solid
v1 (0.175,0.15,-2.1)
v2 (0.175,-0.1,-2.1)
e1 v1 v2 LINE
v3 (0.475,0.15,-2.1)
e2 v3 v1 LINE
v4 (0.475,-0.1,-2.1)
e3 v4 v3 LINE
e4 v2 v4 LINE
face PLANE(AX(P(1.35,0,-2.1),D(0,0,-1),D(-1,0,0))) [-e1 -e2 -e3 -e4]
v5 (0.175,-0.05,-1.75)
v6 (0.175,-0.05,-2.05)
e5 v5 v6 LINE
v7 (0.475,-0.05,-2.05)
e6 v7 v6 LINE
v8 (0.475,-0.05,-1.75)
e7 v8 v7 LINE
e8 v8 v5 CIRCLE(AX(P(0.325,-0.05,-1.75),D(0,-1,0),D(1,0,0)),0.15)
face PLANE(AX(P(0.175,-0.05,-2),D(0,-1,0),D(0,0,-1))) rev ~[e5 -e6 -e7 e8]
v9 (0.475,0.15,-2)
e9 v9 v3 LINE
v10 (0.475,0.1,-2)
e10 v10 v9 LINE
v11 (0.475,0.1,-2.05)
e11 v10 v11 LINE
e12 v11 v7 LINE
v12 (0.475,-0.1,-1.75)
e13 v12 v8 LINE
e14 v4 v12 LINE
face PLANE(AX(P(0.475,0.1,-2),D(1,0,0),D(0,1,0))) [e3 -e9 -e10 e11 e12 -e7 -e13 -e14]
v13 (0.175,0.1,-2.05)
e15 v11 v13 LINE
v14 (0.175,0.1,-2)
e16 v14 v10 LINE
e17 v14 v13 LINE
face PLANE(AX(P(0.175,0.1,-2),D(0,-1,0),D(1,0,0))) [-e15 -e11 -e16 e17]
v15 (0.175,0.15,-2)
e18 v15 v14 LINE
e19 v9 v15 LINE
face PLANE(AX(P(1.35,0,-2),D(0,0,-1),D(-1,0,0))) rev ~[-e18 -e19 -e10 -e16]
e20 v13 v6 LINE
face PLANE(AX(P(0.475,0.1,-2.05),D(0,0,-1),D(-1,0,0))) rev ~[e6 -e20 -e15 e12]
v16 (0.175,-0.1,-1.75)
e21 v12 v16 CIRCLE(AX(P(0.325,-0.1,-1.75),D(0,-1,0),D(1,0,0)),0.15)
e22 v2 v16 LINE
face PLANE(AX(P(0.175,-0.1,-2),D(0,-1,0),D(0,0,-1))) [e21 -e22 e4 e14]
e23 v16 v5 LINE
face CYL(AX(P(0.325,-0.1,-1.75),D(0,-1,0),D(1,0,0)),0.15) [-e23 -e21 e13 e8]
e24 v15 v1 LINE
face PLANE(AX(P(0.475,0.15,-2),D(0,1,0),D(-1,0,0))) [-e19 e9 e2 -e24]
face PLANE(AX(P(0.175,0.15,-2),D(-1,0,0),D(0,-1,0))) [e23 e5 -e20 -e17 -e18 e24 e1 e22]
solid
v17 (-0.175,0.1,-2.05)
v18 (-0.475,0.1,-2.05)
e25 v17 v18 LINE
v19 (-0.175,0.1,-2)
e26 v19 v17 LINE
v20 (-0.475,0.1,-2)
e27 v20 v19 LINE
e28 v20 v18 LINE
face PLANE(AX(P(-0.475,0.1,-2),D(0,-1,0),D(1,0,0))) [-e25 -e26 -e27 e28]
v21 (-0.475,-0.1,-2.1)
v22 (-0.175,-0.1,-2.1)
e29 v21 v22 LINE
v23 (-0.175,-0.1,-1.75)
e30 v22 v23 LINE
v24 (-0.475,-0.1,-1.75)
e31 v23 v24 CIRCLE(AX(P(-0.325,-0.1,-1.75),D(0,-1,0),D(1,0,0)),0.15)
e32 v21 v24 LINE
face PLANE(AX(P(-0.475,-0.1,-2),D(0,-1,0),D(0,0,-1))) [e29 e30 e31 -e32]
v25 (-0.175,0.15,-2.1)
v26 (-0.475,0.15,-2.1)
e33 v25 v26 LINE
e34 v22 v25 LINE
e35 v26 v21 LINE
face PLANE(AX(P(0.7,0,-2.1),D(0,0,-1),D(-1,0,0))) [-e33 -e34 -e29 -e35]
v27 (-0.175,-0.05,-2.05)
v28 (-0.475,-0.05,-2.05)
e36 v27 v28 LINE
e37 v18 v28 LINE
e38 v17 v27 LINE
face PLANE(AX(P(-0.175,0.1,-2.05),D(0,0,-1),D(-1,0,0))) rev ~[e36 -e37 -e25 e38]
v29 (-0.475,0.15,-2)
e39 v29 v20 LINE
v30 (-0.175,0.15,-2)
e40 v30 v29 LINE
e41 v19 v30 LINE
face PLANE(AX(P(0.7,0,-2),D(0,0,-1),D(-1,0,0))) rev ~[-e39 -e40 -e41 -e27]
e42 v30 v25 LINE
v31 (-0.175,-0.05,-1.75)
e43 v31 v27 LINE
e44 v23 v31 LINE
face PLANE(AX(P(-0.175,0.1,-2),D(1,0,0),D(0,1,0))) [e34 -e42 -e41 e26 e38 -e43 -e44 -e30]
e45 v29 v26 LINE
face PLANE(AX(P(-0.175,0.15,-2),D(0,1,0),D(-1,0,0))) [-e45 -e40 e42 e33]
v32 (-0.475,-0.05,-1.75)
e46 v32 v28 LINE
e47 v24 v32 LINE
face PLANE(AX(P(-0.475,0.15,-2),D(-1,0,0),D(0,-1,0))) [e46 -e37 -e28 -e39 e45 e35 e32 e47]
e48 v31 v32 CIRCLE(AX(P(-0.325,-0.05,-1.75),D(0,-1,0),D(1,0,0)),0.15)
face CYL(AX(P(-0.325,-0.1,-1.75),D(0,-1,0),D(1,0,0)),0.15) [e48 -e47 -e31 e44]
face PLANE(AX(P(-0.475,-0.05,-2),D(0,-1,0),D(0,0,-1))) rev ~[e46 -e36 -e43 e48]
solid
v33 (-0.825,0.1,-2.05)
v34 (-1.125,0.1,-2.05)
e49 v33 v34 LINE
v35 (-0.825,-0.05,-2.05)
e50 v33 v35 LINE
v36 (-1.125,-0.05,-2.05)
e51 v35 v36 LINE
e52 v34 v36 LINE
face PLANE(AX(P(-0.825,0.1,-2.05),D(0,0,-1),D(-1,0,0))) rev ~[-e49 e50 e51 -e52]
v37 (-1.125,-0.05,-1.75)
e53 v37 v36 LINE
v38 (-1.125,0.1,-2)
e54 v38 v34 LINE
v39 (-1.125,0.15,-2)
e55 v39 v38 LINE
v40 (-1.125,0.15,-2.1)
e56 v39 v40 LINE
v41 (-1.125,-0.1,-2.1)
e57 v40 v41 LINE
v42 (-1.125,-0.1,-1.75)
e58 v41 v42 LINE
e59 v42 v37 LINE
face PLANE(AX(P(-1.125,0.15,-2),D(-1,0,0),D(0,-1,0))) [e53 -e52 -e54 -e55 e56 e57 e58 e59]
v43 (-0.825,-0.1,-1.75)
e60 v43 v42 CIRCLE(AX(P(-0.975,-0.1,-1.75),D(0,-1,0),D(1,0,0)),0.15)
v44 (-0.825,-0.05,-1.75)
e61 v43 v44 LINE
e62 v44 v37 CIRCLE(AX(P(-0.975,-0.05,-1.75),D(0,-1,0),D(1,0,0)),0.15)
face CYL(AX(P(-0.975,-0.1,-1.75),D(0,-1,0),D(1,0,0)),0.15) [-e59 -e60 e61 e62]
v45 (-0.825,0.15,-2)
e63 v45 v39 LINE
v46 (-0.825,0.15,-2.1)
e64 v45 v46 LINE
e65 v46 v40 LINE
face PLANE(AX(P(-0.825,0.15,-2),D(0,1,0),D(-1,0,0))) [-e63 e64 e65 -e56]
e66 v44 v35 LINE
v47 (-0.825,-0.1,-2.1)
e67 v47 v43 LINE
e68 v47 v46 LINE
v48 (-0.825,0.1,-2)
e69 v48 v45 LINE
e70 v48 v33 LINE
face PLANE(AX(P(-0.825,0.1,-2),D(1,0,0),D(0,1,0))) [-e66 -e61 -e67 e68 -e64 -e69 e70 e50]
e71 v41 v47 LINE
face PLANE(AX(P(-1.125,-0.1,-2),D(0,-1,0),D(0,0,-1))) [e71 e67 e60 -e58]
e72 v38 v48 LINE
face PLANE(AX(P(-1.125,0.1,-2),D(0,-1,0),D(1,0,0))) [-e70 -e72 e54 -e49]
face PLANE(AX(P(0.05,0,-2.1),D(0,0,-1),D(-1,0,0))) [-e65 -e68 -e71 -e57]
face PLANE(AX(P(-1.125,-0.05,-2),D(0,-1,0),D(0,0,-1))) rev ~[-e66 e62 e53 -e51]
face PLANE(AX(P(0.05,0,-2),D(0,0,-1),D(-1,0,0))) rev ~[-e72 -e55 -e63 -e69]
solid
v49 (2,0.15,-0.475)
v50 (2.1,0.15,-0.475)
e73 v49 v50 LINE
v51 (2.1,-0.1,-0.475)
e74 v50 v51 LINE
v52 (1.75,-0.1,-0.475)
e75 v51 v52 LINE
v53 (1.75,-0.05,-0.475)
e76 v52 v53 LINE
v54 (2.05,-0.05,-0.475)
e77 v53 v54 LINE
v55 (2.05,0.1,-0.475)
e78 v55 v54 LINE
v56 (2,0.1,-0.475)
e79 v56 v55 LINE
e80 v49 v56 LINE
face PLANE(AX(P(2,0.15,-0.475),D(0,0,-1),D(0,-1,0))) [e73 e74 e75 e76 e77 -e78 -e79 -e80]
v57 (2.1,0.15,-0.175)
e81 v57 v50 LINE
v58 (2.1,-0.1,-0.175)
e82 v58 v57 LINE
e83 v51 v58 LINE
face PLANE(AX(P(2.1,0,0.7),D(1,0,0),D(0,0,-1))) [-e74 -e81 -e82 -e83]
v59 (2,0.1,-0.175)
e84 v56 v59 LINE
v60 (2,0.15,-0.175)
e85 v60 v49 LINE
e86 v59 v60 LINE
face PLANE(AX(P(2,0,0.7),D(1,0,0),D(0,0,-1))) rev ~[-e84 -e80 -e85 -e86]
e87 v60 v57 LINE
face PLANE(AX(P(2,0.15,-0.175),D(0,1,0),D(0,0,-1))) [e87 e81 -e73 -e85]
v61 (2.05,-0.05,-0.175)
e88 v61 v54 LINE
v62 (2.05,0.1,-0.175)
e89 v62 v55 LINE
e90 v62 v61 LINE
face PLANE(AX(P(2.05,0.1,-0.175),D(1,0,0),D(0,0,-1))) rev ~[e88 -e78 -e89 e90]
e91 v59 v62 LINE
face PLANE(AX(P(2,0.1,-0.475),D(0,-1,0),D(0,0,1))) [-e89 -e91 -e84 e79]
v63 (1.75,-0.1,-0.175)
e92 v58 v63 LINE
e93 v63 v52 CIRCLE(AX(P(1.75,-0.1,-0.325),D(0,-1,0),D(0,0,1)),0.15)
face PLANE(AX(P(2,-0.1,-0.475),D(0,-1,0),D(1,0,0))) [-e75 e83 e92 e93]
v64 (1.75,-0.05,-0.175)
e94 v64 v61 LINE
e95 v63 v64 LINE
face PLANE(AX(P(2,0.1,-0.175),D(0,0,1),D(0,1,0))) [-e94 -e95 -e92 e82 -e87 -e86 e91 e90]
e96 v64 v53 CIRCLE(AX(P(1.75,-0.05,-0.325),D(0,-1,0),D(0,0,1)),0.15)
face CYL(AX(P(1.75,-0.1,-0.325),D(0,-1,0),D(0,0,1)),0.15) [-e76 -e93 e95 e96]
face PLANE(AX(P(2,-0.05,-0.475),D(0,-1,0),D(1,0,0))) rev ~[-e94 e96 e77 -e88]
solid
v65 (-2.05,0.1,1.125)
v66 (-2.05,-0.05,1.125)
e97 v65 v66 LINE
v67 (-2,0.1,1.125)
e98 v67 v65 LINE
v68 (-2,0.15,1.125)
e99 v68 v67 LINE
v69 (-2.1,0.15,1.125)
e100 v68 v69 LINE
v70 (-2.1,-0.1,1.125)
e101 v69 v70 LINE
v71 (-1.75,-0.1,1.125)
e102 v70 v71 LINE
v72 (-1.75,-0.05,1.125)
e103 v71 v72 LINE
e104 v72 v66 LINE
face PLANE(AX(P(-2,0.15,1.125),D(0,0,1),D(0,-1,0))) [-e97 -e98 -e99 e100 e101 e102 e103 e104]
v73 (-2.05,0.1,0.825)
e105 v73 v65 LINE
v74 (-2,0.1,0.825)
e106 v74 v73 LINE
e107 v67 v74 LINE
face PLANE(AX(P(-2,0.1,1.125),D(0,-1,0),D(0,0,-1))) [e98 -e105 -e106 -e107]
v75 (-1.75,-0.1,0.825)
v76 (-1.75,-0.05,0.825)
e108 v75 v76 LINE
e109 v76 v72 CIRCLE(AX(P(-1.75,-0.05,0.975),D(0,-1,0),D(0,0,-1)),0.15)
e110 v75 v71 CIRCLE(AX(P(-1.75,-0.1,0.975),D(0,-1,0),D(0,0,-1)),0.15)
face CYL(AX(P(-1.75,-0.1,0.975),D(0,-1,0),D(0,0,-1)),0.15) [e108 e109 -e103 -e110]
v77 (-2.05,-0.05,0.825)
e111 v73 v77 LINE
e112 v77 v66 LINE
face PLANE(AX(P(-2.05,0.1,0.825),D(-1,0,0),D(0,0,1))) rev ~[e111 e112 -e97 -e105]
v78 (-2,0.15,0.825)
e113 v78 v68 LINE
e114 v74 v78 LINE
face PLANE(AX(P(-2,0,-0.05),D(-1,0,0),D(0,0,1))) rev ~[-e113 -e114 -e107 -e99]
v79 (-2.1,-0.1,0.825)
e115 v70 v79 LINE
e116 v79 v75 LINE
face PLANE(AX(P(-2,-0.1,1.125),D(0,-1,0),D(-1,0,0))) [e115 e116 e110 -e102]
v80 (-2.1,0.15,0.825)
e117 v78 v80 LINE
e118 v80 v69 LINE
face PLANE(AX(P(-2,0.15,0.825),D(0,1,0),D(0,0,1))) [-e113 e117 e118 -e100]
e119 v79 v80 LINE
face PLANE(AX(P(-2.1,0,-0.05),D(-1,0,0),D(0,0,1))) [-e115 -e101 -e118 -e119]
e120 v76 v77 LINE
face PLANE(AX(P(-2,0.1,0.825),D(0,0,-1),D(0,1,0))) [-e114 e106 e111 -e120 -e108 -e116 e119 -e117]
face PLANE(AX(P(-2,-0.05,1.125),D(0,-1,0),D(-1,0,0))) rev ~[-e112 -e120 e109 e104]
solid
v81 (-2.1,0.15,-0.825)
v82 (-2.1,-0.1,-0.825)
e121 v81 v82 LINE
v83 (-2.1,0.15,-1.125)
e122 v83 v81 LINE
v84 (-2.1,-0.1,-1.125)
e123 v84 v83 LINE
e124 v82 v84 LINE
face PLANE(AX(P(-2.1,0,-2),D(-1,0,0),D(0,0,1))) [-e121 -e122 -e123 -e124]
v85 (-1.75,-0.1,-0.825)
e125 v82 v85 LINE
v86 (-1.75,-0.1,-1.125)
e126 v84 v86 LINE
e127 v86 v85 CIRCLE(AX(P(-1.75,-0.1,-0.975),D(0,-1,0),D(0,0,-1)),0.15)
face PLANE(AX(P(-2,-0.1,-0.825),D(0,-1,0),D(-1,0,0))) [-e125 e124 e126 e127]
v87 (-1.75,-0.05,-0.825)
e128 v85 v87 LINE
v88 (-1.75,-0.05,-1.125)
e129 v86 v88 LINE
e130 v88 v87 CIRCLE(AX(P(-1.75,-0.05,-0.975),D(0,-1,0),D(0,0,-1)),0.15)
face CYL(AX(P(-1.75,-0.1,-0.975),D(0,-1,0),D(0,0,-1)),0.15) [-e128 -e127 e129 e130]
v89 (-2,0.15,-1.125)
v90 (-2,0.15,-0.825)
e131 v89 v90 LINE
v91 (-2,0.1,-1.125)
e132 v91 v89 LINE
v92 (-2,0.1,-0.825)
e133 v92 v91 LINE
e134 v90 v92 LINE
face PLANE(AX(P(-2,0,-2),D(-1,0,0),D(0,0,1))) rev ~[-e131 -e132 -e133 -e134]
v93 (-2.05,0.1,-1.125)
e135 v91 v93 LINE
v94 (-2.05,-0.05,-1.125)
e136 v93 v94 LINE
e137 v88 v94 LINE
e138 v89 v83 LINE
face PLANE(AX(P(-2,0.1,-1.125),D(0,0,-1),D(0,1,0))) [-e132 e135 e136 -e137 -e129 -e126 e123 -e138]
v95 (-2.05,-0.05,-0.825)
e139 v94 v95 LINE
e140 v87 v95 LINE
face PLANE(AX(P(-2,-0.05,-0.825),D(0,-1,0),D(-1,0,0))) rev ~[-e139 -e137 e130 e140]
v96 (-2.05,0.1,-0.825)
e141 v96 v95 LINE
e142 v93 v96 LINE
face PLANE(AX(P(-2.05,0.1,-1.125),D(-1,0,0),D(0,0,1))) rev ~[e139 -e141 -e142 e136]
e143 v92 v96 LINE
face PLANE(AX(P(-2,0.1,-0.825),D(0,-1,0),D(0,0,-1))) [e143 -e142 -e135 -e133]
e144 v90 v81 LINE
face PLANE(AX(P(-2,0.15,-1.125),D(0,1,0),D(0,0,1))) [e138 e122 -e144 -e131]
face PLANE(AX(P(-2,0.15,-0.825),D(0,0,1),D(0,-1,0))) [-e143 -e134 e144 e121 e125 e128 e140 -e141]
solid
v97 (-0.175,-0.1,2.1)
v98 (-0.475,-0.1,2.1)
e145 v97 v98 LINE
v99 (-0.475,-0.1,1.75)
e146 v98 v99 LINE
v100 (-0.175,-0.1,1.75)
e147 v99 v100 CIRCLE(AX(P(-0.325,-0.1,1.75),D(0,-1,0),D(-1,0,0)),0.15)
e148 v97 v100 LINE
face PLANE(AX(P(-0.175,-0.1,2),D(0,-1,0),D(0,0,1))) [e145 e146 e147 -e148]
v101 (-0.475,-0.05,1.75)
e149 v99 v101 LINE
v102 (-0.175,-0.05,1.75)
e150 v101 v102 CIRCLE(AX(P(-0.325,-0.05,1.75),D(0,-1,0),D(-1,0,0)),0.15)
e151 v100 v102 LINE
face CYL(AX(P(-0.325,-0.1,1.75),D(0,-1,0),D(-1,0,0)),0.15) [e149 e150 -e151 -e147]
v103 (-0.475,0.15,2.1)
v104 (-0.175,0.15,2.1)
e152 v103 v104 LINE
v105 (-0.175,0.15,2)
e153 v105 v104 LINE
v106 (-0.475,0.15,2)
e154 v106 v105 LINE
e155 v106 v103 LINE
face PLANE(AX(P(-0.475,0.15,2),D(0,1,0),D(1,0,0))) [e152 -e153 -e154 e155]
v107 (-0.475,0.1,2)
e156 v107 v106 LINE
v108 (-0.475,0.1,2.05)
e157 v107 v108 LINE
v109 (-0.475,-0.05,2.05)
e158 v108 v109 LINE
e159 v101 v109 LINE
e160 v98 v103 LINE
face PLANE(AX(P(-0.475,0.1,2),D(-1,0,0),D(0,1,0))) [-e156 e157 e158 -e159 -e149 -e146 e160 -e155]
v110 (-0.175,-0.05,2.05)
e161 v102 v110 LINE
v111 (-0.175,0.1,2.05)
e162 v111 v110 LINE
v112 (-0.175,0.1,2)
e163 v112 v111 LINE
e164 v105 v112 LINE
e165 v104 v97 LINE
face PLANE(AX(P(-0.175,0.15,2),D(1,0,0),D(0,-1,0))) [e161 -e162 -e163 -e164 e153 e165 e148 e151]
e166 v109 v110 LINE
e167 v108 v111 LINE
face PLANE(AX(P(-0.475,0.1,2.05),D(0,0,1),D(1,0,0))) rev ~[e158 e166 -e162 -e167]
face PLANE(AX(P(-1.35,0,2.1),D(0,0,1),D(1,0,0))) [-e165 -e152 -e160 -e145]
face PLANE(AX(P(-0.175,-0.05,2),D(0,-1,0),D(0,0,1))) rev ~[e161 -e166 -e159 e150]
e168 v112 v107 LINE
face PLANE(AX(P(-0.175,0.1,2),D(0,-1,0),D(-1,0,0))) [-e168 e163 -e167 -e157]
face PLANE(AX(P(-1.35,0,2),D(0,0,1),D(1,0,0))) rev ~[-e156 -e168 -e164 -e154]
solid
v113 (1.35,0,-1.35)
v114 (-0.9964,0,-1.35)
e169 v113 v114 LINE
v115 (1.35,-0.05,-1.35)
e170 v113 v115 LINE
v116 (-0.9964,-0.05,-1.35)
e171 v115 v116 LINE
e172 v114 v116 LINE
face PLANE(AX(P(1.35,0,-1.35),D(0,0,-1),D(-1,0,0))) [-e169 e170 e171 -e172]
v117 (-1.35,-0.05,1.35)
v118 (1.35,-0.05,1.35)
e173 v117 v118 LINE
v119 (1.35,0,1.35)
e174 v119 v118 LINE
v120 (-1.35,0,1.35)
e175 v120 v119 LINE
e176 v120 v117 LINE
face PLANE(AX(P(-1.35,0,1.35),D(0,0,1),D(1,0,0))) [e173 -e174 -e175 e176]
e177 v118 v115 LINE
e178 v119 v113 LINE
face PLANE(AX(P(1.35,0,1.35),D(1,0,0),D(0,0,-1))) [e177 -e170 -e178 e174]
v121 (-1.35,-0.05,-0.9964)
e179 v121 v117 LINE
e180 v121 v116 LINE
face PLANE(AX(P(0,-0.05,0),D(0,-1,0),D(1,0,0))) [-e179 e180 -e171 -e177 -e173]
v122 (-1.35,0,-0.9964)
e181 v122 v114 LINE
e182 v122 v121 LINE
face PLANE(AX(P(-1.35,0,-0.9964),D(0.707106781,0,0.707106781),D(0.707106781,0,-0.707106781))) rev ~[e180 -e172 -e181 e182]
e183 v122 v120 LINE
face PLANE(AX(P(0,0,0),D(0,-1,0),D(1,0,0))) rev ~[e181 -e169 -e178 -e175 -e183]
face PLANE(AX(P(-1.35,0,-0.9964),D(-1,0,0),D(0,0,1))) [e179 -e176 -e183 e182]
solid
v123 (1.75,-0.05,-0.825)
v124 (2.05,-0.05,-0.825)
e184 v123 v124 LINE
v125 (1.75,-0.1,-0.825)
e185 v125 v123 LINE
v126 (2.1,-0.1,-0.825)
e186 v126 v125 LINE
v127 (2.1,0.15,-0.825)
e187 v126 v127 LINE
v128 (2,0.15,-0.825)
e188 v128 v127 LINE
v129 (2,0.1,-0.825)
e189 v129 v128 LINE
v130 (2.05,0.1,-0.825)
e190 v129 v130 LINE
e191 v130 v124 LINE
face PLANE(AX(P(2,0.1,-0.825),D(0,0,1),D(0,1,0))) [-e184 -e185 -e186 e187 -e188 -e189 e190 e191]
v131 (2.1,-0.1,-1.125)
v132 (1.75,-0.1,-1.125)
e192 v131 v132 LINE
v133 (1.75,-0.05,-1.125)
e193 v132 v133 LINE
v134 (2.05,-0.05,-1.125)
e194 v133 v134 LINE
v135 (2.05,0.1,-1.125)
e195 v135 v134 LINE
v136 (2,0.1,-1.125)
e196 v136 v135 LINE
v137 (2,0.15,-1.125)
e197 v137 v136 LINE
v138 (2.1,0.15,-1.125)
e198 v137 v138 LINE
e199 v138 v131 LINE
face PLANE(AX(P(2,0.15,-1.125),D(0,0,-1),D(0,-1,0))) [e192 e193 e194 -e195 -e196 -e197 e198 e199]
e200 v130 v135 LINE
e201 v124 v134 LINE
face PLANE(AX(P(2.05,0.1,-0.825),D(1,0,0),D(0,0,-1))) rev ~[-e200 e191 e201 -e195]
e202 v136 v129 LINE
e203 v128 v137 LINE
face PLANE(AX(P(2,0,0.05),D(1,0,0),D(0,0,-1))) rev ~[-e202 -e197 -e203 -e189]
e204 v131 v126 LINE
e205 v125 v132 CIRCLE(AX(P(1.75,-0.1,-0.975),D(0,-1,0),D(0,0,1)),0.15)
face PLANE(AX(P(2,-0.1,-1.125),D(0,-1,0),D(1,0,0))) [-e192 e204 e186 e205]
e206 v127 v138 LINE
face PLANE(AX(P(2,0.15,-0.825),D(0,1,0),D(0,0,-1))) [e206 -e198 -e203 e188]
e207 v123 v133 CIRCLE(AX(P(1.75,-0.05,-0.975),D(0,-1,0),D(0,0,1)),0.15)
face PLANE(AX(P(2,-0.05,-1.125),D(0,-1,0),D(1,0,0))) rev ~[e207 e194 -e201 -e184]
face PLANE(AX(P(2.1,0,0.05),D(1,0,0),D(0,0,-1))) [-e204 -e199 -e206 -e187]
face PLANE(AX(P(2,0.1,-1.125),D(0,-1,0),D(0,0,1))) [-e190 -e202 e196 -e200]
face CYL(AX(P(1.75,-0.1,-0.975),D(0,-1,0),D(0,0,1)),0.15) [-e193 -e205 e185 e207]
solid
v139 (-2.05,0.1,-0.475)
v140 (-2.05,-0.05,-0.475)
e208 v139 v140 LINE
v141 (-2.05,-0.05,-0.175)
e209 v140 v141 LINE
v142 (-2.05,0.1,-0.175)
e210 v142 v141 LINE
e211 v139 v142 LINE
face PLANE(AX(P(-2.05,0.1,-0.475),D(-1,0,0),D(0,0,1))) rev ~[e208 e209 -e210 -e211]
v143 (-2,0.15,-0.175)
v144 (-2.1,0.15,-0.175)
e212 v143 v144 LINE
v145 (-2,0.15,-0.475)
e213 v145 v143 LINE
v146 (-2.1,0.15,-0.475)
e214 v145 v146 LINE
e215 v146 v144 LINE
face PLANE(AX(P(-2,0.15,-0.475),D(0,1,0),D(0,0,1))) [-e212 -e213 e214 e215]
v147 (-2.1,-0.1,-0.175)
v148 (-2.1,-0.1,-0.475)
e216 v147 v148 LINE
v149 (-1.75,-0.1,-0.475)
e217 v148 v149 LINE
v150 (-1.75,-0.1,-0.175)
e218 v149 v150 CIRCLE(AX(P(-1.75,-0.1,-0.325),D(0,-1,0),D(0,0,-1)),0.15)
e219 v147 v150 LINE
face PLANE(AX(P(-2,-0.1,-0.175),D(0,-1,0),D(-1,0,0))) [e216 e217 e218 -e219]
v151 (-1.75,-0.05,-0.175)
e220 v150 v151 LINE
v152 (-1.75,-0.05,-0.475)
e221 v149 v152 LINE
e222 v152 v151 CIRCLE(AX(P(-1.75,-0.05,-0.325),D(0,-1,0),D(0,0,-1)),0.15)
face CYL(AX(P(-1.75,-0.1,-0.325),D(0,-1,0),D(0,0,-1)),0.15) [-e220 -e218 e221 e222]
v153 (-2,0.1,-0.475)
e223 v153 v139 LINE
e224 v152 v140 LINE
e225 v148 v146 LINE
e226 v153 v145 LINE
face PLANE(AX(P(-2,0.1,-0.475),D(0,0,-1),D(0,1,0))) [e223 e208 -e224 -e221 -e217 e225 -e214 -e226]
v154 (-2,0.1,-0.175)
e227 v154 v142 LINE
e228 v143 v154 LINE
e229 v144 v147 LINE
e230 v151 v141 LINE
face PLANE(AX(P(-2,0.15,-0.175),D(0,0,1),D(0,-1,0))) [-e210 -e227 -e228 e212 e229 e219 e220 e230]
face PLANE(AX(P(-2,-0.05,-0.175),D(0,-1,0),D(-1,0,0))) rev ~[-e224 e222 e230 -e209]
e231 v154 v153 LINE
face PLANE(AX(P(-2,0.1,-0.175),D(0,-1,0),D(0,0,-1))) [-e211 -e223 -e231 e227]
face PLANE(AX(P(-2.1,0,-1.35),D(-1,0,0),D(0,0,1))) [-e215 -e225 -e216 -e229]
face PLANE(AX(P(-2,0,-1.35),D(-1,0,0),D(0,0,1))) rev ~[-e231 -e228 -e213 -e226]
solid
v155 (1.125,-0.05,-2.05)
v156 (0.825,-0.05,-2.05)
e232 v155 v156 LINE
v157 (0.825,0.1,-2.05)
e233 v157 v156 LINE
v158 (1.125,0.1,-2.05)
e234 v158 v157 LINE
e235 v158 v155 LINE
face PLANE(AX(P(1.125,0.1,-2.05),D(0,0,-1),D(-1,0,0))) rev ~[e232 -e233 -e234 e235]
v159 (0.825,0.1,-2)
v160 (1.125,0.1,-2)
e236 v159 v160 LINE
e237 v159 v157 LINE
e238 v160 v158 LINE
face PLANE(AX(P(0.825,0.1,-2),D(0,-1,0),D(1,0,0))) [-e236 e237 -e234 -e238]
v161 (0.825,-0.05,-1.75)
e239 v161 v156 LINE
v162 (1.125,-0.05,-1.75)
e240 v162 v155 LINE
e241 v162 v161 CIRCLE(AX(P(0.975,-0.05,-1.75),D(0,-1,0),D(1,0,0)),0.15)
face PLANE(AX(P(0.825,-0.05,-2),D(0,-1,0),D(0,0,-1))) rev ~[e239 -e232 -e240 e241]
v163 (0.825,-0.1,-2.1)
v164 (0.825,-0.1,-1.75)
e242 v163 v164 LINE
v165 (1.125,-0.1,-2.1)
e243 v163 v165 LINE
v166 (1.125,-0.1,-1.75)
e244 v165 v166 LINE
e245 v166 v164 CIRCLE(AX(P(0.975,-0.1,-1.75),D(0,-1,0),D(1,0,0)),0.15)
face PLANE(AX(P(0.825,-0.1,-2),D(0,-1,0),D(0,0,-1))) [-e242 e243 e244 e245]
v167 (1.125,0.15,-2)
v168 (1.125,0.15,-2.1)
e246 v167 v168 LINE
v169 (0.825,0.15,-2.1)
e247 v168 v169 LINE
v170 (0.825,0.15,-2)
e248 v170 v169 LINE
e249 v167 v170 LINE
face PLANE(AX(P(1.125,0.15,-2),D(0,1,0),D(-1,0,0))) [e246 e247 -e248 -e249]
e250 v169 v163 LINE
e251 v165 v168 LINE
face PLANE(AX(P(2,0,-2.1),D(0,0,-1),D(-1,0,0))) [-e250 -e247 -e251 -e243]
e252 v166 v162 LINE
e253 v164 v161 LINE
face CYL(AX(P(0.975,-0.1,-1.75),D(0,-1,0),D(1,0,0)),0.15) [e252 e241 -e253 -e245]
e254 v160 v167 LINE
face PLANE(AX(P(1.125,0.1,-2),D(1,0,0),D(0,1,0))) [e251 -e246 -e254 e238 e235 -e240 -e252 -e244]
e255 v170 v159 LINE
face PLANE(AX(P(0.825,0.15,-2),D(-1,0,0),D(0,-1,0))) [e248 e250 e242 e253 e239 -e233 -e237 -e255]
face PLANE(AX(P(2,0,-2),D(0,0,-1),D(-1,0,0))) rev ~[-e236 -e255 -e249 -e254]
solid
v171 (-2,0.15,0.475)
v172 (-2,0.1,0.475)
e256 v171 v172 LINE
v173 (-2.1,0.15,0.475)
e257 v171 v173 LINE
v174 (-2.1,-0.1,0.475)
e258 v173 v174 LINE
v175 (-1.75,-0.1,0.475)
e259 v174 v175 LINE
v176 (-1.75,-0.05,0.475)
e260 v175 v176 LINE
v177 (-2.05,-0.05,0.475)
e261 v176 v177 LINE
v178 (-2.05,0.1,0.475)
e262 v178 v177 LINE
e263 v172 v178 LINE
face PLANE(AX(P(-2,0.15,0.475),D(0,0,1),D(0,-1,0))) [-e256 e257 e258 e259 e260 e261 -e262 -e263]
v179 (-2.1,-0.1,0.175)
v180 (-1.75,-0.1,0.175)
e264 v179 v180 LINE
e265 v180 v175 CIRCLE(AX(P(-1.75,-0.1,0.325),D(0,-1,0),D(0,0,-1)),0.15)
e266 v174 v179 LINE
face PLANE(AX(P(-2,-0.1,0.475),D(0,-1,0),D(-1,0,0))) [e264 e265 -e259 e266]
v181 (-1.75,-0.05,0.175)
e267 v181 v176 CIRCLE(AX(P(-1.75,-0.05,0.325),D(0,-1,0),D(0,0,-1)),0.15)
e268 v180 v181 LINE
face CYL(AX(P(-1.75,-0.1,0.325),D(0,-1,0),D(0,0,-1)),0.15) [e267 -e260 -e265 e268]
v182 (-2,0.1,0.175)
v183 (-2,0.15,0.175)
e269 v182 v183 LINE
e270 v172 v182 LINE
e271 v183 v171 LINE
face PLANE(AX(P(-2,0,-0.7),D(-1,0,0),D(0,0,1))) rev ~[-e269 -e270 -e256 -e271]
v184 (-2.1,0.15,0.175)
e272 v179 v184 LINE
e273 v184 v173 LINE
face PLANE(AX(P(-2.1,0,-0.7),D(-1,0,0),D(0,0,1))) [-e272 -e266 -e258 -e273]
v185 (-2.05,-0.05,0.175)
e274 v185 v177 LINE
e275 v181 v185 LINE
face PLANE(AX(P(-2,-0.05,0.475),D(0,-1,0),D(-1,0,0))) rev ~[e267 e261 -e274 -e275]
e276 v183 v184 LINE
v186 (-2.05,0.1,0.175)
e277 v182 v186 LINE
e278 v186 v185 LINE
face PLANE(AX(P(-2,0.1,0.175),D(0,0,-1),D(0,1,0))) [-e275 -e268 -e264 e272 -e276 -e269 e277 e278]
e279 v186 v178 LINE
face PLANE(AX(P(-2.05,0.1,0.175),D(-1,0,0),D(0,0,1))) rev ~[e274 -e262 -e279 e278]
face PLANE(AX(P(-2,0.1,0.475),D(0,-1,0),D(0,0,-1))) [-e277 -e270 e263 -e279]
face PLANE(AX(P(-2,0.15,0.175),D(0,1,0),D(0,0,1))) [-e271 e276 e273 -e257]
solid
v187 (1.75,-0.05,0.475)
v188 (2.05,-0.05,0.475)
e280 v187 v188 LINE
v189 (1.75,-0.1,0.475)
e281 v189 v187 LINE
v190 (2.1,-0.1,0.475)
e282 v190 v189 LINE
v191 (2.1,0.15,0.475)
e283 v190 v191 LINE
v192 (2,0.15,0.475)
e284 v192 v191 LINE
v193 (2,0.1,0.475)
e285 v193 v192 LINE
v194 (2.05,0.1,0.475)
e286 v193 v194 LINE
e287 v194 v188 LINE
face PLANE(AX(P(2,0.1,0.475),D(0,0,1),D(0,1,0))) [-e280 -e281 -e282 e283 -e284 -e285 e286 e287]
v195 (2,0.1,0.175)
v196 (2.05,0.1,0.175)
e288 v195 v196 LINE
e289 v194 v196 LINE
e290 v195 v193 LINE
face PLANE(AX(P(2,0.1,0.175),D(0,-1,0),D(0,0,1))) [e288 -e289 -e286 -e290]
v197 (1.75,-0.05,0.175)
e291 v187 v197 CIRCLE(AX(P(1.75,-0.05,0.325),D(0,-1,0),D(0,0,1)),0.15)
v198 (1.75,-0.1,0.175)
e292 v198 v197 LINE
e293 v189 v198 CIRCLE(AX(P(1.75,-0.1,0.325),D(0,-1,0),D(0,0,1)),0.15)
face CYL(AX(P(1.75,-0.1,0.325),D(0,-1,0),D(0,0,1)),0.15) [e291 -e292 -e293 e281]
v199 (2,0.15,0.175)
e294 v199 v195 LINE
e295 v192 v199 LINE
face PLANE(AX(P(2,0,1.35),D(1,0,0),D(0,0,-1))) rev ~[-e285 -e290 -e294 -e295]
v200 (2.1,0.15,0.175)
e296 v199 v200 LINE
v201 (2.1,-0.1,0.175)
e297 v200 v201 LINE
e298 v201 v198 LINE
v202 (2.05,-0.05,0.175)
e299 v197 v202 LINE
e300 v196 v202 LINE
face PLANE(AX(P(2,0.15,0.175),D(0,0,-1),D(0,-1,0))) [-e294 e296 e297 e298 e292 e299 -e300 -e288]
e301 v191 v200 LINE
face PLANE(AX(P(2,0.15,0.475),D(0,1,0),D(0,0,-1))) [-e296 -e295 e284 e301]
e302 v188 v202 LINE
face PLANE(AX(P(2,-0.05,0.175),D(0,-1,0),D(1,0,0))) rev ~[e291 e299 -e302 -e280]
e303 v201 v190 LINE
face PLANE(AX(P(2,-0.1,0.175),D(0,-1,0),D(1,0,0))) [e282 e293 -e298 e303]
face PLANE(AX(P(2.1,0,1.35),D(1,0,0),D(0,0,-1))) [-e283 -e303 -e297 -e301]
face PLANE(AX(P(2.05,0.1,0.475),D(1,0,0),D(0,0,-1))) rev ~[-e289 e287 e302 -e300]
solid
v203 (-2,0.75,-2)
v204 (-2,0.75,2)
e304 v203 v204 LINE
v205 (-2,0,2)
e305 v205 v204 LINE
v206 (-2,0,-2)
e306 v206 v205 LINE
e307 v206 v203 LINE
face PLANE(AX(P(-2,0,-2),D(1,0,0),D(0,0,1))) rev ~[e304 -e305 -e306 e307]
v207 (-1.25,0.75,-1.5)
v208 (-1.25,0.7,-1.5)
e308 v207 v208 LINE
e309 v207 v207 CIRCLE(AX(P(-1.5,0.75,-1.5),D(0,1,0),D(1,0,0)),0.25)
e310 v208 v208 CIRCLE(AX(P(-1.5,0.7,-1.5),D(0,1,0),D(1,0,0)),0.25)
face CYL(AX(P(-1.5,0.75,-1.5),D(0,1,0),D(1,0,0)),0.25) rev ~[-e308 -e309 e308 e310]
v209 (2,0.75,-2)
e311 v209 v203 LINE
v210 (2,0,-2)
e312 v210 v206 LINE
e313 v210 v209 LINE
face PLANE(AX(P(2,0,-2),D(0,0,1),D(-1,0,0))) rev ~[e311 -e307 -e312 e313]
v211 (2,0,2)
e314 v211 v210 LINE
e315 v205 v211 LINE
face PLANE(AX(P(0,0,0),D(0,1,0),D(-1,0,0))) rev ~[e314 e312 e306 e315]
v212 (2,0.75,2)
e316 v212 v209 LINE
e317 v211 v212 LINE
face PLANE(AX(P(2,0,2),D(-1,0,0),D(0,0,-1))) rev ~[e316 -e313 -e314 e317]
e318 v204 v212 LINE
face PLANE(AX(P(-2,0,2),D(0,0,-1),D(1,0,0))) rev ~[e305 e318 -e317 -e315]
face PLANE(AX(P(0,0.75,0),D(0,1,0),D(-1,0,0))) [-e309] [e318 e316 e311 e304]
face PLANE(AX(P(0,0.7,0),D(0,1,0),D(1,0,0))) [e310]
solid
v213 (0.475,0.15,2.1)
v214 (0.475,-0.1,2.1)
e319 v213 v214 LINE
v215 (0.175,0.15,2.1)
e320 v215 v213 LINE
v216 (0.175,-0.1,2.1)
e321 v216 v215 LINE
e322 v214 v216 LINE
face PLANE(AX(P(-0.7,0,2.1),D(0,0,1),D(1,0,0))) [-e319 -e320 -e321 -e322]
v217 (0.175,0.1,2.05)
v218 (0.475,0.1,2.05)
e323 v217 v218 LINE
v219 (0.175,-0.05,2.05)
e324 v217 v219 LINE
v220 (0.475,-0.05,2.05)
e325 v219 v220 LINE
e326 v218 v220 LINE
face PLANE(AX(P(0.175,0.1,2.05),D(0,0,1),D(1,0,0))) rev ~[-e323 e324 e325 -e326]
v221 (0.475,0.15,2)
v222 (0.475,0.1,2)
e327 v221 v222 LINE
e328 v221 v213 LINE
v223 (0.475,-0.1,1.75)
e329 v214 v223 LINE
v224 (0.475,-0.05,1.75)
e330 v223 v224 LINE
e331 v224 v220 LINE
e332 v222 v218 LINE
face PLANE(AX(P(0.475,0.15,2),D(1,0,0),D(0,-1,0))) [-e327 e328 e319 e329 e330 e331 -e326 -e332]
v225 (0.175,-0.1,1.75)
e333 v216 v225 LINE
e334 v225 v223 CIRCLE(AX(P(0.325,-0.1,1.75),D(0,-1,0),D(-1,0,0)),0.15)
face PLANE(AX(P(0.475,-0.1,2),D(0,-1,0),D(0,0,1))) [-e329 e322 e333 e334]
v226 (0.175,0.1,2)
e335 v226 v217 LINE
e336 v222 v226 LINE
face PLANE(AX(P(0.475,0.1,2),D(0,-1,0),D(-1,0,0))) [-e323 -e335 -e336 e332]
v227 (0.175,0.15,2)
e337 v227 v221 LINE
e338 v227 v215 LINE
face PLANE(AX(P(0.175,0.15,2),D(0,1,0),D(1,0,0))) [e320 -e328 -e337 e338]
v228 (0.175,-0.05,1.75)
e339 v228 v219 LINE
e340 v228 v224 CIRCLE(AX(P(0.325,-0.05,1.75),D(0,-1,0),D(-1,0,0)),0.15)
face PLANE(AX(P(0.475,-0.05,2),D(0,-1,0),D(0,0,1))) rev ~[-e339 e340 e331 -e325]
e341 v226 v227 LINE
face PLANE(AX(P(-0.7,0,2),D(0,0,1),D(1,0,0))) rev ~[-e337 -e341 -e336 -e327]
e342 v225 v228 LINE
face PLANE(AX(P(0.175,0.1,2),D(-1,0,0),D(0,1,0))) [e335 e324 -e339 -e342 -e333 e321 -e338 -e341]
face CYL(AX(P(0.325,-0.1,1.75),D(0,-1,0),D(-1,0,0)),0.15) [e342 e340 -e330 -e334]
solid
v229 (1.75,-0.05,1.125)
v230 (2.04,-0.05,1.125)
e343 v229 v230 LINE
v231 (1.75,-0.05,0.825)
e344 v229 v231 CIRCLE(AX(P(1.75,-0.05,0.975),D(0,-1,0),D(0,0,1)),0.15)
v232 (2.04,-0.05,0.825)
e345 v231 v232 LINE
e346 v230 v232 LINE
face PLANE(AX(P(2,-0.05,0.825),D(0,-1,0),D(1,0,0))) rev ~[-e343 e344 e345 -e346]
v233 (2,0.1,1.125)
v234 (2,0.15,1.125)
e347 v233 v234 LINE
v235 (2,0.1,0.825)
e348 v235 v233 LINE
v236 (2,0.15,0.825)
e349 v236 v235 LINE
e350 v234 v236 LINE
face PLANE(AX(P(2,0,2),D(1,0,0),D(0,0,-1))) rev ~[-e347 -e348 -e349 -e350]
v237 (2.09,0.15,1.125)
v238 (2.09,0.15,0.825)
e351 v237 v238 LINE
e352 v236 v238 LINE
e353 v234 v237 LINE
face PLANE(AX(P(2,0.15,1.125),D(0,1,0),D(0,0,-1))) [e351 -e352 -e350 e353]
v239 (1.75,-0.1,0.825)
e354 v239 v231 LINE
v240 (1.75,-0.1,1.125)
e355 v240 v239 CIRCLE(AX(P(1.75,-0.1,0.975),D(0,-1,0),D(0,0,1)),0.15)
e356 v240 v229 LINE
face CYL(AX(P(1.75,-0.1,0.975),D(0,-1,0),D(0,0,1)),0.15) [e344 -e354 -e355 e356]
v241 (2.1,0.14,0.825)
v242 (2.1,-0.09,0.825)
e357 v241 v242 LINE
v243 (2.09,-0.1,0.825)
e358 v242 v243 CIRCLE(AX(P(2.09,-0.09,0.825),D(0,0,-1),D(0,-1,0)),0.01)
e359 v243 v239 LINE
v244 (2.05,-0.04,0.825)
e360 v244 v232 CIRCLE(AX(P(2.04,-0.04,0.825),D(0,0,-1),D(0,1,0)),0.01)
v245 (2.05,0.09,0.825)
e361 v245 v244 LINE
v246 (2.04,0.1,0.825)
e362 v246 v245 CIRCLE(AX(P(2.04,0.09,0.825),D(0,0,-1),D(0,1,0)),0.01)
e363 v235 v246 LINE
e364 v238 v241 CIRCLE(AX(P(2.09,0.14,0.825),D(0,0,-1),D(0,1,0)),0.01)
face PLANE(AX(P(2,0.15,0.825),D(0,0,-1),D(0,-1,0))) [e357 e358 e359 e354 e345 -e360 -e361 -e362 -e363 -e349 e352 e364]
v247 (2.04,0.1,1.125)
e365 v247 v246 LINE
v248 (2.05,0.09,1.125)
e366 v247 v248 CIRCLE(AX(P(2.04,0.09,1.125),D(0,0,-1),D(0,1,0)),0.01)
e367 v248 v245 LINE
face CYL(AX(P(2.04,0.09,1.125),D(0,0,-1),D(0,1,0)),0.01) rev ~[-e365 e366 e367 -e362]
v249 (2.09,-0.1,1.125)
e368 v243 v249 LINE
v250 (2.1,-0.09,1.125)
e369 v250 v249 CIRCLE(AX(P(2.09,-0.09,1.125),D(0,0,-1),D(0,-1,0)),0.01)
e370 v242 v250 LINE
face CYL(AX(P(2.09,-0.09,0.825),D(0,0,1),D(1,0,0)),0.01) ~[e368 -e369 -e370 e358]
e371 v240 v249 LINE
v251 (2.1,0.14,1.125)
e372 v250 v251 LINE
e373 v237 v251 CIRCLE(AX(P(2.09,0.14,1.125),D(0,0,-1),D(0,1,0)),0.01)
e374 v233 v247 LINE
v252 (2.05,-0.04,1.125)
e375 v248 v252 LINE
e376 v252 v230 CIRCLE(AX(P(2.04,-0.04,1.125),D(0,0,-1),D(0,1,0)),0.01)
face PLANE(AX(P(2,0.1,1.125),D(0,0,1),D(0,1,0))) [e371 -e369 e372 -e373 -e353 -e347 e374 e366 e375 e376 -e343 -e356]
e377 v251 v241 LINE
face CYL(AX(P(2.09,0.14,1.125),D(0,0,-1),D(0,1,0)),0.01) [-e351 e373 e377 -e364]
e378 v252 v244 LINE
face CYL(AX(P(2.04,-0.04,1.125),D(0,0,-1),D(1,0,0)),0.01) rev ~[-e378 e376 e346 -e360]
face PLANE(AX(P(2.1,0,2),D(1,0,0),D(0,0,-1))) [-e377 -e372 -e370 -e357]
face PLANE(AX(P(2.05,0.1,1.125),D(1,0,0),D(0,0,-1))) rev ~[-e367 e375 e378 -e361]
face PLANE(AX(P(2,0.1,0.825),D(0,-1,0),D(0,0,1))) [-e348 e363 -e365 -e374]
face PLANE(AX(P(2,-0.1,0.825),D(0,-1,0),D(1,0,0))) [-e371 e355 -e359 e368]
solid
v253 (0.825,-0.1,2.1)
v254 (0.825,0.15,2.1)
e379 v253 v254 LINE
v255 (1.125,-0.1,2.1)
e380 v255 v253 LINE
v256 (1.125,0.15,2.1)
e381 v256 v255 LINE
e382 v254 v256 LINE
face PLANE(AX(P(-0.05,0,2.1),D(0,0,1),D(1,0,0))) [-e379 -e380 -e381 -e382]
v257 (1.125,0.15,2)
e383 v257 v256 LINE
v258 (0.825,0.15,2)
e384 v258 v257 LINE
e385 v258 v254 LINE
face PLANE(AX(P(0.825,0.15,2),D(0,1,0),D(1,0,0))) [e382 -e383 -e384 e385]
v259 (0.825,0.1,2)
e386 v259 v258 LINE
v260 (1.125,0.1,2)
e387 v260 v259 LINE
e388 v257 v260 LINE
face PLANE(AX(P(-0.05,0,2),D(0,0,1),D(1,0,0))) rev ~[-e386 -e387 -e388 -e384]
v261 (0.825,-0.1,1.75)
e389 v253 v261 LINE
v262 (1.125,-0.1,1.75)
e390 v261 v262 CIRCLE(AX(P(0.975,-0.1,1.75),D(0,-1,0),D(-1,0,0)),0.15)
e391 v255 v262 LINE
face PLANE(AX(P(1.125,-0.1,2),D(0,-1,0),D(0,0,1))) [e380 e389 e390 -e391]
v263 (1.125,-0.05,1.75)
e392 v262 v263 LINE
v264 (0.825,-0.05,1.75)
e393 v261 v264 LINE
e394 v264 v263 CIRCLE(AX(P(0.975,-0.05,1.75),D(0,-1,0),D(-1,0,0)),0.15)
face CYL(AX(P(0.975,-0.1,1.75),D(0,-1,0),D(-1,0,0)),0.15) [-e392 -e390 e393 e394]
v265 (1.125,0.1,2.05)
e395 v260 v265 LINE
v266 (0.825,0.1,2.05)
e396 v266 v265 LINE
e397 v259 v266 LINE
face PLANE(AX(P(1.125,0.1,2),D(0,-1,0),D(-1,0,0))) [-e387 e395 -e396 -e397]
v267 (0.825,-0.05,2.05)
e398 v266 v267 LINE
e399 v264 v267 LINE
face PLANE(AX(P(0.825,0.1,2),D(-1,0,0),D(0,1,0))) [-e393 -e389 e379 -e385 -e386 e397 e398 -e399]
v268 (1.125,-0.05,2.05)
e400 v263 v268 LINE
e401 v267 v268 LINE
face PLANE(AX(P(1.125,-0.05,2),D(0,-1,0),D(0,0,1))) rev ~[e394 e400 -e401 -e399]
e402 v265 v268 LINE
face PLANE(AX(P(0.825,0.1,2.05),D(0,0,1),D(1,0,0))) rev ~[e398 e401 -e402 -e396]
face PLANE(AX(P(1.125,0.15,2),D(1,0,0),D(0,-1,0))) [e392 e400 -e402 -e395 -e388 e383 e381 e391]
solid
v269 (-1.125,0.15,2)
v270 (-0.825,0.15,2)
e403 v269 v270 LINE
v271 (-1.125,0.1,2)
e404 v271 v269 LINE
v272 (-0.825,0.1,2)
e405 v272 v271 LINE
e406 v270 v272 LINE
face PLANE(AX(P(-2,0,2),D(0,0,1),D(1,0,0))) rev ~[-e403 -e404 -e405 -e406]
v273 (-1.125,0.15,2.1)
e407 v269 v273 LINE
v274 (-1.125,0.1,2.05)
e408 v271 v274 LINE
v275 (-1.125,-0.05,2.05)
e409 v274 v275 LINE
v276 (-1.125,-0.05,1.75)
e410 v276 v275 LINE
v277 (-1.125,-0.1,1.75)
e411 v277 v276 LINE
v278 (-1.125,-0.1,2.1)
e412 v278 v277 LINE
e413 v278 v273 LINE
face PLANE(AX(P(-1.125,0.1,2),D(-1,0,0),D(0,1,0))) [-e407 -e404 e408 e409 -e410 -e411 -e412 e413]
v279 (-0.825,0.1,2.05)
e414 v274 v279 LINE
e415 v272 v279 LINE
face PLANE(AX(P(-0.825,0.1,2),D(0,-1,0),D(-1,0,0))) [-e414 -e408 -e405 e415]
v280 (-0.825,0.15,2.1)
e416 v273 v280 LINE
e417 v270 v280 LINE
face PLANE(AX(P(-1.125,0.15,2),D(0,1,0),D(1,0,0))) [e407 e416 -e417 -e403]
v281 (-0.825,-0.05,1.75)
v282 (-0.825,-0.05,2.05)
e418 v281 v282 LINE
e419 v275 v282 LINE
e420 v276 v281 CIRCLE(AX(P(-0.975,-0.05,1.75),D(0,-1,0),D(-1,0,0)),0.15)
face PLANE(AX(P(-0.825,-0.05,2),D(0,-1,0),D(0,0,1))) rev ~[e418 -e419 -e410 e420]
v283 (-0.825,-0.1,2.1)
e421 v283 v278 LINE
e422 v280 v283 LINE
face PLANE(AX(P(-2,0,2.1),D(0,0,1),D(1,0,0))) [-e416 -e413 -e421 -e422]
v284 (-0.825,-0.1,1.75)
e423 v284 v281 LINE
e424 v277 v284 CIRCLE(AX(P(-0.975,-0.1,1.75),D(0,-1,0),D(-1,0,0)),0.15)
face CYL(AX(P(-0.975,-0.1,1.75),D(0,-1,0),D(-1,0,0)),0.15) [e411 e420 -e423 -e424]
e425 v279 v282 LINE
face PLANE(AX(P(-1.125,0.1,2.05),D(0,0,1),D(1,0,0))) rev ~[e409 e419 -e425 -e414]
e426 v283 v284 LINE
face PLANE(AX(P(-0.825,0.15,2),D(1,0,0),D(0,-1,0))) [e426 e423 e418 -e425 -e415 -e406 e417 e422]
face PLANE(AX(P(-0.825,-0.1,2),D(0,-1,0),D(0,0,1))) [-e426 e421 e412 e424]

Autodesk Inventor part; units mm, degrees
ref_plane "YZ Plane" through (0, 0, 0) normal (1, 0, 0) x (0, 1, 0)
ref_plane "XZ Plane" through (0, 0, 0) normal (0, 1, 0) x (-1, 0, 0)
ref_plane "XY Plane" through (0, 0, 0) normal (0, 0, 1) x (1, 0, 0)
sketch "Sketch1" plane through (0, 0, 0) normal (0, 1, 0) x (-1, 0, 0)
  line L0 (2, 2) -> (-2, 2)
  line L1 (-2, 2) -> (-2, -2)
  line L2 (-2, -2) -> (2, -2)
  line L3 (2, -2) -> (2, 2)
  point P0 (0, 0)
  point P1 (0, -2)
  point P2 (2, 0)
  dimension "d0" = 4
  dimension "d1" = 4
extrude "Extrusion1" add sketch "Sketch1" along normal blind 0.75
sketch "Sketch2" plane through (2, 0, 2) normal (1, 0, 0) x (0, 0, -1)
  line L0 (0.875, 0.15) -> (1.175, 0.15)
  line L1 (1.175, 0.15) -> (1.175, 0.1)
  line L2 (1.175, 0.1) -> (0.875, 0.1)
  line L3 (0.875, 0.1) -> (0.875, 0.15)
  line L4 (0, 0) -> (4, 0) projected
  point P0 (2, 0)
  point P1 (1.025, 0.15)
  dimension "d4" = 0.975
  dimension "d5" = 0.3
  dimension "d6" = 0.05
  dimension "d10" = 0.1
extrude "Extrusion2" add sketch "Sketch2" along normal blind 0.1 separate body
sketch "Sketch4" plane through (2, 0.1, 0.825) normal (0, -1, 0) x (1, 0, 0)
  line L0 (0.1, 0) -> (0.1, 0.3) projected
  line L1 (0, 0) -> (0.1, 0) projected
  line L2 (0.1, 0.3) -> (0.05, 0.3)
  line L3 (0.05, 0.3) -> (0.05, 0)
  line L4 (0.05, 0) -> (0.1, 0)
  line L5 (0.1, 0) -> (0.1, 0.3)
  point P0 (-2, -0.825)
  dimension "d11" = 0.05
extrude "Extrusion3" add sketch "Sketch4" along normal blind 0.2 bodies 2
sketch "Sketch7" plane through (2, -0.1, 0.825) normal (0, -1, 0) x (1, 0, 0)
  line L0 (0, 0.3) -> (0.1, 0.3) projected
  line L1 (0.05, 0.3) -> (-0.25, 0.3)
  line L2 (0.05, 0.3) -> (0.05, 0) projected
  line L3 (0.05, 0) -> (-0.25, 0)
  arc A0 (-0.25, 0.3) -> (-0.25, 0) centre (-0.25, 0.15) ccw
  line L4 (0.05, 0.3) -> (0.05, 0)
  line L5 (-0.4, 0.4) -> (-0.4, -0.1) construction
  line L6 (0, 1.175) -> (0, -2.825) projected
  point P0 (-2, -0.825)
  point P1 (-0.4, 0.15)
  dimension "d38" = 0.5
  dimension "d39" = 0.4
extrude "Extrusion5" add sketch "Sketch7" against normal blind 0.05 bodies 2
fillet "Fillet1" radius 0.01 4 edges at (2.1, -0.1, 0.975) (2.1, 0.15, 0.975) (2.05, -0.05, 0.975) (2.05, 0.1, 0.975)
sketch "Sketch8" plane through (0, 0.75, 0) normal (0, 1, 0) x (1, 0, 0)
  circle A0 centre (-1.5, 1.5) radius 0.25
  line L0 (2, 2) -> (-2, 2) projected
  line L1 (-2, 2) -> (-2, -2) projected
  point P0 (0, 0)
  dimension "d29" = 0.5
  dimension "d30" = 0.5
  dimension "d31" = 0.5
extrude "Extrusion6" cut sketch "Sketch8" against normal blind 0.05 bodies 1
sketch "Sketch9" plane through (0, 0, 0) normal (0, -1, 0) x (1, 0, 0)
  line L0 (-1.35, 1.35) -> (1.35, 1.35)
  line L1 (1.35, 1.35) -> (1.35, -1.35)
  line L2 (1.35, -1.35) -> (-0.9964, -1.35)
  line L3 (-1.35, -0.9964) -> (-1.35, 1.35)
  line L4 (-1.35, -0.9964) -> (-0.9964, -1.35)
  point P0 (0, 0)
  point P1 (0, 1.35)
  point P2 (1.35, 0)
  dimension "d34" = 2.7
  dimension "d35" = 0.5
extrude "Extrusion7" add sketch "Sketch9" along normal blind 0.05 bodies 2
pattern_linear "Rectangular Pattern2" count 4 spacing 0.65 along (0, 0, -1) of "Extrusion5", "Extrusion3", "Extrusion2" bodies 2
pattern_circular "Circular Pattern2" count 4 over 360 about axis through (0, -10, 0) along (0, 1, 0) of "Extrusion5", "Extrusion3", "Extrusion2", "Rectangular Pattern2" bodies 2
properties part number "MLPQ"
